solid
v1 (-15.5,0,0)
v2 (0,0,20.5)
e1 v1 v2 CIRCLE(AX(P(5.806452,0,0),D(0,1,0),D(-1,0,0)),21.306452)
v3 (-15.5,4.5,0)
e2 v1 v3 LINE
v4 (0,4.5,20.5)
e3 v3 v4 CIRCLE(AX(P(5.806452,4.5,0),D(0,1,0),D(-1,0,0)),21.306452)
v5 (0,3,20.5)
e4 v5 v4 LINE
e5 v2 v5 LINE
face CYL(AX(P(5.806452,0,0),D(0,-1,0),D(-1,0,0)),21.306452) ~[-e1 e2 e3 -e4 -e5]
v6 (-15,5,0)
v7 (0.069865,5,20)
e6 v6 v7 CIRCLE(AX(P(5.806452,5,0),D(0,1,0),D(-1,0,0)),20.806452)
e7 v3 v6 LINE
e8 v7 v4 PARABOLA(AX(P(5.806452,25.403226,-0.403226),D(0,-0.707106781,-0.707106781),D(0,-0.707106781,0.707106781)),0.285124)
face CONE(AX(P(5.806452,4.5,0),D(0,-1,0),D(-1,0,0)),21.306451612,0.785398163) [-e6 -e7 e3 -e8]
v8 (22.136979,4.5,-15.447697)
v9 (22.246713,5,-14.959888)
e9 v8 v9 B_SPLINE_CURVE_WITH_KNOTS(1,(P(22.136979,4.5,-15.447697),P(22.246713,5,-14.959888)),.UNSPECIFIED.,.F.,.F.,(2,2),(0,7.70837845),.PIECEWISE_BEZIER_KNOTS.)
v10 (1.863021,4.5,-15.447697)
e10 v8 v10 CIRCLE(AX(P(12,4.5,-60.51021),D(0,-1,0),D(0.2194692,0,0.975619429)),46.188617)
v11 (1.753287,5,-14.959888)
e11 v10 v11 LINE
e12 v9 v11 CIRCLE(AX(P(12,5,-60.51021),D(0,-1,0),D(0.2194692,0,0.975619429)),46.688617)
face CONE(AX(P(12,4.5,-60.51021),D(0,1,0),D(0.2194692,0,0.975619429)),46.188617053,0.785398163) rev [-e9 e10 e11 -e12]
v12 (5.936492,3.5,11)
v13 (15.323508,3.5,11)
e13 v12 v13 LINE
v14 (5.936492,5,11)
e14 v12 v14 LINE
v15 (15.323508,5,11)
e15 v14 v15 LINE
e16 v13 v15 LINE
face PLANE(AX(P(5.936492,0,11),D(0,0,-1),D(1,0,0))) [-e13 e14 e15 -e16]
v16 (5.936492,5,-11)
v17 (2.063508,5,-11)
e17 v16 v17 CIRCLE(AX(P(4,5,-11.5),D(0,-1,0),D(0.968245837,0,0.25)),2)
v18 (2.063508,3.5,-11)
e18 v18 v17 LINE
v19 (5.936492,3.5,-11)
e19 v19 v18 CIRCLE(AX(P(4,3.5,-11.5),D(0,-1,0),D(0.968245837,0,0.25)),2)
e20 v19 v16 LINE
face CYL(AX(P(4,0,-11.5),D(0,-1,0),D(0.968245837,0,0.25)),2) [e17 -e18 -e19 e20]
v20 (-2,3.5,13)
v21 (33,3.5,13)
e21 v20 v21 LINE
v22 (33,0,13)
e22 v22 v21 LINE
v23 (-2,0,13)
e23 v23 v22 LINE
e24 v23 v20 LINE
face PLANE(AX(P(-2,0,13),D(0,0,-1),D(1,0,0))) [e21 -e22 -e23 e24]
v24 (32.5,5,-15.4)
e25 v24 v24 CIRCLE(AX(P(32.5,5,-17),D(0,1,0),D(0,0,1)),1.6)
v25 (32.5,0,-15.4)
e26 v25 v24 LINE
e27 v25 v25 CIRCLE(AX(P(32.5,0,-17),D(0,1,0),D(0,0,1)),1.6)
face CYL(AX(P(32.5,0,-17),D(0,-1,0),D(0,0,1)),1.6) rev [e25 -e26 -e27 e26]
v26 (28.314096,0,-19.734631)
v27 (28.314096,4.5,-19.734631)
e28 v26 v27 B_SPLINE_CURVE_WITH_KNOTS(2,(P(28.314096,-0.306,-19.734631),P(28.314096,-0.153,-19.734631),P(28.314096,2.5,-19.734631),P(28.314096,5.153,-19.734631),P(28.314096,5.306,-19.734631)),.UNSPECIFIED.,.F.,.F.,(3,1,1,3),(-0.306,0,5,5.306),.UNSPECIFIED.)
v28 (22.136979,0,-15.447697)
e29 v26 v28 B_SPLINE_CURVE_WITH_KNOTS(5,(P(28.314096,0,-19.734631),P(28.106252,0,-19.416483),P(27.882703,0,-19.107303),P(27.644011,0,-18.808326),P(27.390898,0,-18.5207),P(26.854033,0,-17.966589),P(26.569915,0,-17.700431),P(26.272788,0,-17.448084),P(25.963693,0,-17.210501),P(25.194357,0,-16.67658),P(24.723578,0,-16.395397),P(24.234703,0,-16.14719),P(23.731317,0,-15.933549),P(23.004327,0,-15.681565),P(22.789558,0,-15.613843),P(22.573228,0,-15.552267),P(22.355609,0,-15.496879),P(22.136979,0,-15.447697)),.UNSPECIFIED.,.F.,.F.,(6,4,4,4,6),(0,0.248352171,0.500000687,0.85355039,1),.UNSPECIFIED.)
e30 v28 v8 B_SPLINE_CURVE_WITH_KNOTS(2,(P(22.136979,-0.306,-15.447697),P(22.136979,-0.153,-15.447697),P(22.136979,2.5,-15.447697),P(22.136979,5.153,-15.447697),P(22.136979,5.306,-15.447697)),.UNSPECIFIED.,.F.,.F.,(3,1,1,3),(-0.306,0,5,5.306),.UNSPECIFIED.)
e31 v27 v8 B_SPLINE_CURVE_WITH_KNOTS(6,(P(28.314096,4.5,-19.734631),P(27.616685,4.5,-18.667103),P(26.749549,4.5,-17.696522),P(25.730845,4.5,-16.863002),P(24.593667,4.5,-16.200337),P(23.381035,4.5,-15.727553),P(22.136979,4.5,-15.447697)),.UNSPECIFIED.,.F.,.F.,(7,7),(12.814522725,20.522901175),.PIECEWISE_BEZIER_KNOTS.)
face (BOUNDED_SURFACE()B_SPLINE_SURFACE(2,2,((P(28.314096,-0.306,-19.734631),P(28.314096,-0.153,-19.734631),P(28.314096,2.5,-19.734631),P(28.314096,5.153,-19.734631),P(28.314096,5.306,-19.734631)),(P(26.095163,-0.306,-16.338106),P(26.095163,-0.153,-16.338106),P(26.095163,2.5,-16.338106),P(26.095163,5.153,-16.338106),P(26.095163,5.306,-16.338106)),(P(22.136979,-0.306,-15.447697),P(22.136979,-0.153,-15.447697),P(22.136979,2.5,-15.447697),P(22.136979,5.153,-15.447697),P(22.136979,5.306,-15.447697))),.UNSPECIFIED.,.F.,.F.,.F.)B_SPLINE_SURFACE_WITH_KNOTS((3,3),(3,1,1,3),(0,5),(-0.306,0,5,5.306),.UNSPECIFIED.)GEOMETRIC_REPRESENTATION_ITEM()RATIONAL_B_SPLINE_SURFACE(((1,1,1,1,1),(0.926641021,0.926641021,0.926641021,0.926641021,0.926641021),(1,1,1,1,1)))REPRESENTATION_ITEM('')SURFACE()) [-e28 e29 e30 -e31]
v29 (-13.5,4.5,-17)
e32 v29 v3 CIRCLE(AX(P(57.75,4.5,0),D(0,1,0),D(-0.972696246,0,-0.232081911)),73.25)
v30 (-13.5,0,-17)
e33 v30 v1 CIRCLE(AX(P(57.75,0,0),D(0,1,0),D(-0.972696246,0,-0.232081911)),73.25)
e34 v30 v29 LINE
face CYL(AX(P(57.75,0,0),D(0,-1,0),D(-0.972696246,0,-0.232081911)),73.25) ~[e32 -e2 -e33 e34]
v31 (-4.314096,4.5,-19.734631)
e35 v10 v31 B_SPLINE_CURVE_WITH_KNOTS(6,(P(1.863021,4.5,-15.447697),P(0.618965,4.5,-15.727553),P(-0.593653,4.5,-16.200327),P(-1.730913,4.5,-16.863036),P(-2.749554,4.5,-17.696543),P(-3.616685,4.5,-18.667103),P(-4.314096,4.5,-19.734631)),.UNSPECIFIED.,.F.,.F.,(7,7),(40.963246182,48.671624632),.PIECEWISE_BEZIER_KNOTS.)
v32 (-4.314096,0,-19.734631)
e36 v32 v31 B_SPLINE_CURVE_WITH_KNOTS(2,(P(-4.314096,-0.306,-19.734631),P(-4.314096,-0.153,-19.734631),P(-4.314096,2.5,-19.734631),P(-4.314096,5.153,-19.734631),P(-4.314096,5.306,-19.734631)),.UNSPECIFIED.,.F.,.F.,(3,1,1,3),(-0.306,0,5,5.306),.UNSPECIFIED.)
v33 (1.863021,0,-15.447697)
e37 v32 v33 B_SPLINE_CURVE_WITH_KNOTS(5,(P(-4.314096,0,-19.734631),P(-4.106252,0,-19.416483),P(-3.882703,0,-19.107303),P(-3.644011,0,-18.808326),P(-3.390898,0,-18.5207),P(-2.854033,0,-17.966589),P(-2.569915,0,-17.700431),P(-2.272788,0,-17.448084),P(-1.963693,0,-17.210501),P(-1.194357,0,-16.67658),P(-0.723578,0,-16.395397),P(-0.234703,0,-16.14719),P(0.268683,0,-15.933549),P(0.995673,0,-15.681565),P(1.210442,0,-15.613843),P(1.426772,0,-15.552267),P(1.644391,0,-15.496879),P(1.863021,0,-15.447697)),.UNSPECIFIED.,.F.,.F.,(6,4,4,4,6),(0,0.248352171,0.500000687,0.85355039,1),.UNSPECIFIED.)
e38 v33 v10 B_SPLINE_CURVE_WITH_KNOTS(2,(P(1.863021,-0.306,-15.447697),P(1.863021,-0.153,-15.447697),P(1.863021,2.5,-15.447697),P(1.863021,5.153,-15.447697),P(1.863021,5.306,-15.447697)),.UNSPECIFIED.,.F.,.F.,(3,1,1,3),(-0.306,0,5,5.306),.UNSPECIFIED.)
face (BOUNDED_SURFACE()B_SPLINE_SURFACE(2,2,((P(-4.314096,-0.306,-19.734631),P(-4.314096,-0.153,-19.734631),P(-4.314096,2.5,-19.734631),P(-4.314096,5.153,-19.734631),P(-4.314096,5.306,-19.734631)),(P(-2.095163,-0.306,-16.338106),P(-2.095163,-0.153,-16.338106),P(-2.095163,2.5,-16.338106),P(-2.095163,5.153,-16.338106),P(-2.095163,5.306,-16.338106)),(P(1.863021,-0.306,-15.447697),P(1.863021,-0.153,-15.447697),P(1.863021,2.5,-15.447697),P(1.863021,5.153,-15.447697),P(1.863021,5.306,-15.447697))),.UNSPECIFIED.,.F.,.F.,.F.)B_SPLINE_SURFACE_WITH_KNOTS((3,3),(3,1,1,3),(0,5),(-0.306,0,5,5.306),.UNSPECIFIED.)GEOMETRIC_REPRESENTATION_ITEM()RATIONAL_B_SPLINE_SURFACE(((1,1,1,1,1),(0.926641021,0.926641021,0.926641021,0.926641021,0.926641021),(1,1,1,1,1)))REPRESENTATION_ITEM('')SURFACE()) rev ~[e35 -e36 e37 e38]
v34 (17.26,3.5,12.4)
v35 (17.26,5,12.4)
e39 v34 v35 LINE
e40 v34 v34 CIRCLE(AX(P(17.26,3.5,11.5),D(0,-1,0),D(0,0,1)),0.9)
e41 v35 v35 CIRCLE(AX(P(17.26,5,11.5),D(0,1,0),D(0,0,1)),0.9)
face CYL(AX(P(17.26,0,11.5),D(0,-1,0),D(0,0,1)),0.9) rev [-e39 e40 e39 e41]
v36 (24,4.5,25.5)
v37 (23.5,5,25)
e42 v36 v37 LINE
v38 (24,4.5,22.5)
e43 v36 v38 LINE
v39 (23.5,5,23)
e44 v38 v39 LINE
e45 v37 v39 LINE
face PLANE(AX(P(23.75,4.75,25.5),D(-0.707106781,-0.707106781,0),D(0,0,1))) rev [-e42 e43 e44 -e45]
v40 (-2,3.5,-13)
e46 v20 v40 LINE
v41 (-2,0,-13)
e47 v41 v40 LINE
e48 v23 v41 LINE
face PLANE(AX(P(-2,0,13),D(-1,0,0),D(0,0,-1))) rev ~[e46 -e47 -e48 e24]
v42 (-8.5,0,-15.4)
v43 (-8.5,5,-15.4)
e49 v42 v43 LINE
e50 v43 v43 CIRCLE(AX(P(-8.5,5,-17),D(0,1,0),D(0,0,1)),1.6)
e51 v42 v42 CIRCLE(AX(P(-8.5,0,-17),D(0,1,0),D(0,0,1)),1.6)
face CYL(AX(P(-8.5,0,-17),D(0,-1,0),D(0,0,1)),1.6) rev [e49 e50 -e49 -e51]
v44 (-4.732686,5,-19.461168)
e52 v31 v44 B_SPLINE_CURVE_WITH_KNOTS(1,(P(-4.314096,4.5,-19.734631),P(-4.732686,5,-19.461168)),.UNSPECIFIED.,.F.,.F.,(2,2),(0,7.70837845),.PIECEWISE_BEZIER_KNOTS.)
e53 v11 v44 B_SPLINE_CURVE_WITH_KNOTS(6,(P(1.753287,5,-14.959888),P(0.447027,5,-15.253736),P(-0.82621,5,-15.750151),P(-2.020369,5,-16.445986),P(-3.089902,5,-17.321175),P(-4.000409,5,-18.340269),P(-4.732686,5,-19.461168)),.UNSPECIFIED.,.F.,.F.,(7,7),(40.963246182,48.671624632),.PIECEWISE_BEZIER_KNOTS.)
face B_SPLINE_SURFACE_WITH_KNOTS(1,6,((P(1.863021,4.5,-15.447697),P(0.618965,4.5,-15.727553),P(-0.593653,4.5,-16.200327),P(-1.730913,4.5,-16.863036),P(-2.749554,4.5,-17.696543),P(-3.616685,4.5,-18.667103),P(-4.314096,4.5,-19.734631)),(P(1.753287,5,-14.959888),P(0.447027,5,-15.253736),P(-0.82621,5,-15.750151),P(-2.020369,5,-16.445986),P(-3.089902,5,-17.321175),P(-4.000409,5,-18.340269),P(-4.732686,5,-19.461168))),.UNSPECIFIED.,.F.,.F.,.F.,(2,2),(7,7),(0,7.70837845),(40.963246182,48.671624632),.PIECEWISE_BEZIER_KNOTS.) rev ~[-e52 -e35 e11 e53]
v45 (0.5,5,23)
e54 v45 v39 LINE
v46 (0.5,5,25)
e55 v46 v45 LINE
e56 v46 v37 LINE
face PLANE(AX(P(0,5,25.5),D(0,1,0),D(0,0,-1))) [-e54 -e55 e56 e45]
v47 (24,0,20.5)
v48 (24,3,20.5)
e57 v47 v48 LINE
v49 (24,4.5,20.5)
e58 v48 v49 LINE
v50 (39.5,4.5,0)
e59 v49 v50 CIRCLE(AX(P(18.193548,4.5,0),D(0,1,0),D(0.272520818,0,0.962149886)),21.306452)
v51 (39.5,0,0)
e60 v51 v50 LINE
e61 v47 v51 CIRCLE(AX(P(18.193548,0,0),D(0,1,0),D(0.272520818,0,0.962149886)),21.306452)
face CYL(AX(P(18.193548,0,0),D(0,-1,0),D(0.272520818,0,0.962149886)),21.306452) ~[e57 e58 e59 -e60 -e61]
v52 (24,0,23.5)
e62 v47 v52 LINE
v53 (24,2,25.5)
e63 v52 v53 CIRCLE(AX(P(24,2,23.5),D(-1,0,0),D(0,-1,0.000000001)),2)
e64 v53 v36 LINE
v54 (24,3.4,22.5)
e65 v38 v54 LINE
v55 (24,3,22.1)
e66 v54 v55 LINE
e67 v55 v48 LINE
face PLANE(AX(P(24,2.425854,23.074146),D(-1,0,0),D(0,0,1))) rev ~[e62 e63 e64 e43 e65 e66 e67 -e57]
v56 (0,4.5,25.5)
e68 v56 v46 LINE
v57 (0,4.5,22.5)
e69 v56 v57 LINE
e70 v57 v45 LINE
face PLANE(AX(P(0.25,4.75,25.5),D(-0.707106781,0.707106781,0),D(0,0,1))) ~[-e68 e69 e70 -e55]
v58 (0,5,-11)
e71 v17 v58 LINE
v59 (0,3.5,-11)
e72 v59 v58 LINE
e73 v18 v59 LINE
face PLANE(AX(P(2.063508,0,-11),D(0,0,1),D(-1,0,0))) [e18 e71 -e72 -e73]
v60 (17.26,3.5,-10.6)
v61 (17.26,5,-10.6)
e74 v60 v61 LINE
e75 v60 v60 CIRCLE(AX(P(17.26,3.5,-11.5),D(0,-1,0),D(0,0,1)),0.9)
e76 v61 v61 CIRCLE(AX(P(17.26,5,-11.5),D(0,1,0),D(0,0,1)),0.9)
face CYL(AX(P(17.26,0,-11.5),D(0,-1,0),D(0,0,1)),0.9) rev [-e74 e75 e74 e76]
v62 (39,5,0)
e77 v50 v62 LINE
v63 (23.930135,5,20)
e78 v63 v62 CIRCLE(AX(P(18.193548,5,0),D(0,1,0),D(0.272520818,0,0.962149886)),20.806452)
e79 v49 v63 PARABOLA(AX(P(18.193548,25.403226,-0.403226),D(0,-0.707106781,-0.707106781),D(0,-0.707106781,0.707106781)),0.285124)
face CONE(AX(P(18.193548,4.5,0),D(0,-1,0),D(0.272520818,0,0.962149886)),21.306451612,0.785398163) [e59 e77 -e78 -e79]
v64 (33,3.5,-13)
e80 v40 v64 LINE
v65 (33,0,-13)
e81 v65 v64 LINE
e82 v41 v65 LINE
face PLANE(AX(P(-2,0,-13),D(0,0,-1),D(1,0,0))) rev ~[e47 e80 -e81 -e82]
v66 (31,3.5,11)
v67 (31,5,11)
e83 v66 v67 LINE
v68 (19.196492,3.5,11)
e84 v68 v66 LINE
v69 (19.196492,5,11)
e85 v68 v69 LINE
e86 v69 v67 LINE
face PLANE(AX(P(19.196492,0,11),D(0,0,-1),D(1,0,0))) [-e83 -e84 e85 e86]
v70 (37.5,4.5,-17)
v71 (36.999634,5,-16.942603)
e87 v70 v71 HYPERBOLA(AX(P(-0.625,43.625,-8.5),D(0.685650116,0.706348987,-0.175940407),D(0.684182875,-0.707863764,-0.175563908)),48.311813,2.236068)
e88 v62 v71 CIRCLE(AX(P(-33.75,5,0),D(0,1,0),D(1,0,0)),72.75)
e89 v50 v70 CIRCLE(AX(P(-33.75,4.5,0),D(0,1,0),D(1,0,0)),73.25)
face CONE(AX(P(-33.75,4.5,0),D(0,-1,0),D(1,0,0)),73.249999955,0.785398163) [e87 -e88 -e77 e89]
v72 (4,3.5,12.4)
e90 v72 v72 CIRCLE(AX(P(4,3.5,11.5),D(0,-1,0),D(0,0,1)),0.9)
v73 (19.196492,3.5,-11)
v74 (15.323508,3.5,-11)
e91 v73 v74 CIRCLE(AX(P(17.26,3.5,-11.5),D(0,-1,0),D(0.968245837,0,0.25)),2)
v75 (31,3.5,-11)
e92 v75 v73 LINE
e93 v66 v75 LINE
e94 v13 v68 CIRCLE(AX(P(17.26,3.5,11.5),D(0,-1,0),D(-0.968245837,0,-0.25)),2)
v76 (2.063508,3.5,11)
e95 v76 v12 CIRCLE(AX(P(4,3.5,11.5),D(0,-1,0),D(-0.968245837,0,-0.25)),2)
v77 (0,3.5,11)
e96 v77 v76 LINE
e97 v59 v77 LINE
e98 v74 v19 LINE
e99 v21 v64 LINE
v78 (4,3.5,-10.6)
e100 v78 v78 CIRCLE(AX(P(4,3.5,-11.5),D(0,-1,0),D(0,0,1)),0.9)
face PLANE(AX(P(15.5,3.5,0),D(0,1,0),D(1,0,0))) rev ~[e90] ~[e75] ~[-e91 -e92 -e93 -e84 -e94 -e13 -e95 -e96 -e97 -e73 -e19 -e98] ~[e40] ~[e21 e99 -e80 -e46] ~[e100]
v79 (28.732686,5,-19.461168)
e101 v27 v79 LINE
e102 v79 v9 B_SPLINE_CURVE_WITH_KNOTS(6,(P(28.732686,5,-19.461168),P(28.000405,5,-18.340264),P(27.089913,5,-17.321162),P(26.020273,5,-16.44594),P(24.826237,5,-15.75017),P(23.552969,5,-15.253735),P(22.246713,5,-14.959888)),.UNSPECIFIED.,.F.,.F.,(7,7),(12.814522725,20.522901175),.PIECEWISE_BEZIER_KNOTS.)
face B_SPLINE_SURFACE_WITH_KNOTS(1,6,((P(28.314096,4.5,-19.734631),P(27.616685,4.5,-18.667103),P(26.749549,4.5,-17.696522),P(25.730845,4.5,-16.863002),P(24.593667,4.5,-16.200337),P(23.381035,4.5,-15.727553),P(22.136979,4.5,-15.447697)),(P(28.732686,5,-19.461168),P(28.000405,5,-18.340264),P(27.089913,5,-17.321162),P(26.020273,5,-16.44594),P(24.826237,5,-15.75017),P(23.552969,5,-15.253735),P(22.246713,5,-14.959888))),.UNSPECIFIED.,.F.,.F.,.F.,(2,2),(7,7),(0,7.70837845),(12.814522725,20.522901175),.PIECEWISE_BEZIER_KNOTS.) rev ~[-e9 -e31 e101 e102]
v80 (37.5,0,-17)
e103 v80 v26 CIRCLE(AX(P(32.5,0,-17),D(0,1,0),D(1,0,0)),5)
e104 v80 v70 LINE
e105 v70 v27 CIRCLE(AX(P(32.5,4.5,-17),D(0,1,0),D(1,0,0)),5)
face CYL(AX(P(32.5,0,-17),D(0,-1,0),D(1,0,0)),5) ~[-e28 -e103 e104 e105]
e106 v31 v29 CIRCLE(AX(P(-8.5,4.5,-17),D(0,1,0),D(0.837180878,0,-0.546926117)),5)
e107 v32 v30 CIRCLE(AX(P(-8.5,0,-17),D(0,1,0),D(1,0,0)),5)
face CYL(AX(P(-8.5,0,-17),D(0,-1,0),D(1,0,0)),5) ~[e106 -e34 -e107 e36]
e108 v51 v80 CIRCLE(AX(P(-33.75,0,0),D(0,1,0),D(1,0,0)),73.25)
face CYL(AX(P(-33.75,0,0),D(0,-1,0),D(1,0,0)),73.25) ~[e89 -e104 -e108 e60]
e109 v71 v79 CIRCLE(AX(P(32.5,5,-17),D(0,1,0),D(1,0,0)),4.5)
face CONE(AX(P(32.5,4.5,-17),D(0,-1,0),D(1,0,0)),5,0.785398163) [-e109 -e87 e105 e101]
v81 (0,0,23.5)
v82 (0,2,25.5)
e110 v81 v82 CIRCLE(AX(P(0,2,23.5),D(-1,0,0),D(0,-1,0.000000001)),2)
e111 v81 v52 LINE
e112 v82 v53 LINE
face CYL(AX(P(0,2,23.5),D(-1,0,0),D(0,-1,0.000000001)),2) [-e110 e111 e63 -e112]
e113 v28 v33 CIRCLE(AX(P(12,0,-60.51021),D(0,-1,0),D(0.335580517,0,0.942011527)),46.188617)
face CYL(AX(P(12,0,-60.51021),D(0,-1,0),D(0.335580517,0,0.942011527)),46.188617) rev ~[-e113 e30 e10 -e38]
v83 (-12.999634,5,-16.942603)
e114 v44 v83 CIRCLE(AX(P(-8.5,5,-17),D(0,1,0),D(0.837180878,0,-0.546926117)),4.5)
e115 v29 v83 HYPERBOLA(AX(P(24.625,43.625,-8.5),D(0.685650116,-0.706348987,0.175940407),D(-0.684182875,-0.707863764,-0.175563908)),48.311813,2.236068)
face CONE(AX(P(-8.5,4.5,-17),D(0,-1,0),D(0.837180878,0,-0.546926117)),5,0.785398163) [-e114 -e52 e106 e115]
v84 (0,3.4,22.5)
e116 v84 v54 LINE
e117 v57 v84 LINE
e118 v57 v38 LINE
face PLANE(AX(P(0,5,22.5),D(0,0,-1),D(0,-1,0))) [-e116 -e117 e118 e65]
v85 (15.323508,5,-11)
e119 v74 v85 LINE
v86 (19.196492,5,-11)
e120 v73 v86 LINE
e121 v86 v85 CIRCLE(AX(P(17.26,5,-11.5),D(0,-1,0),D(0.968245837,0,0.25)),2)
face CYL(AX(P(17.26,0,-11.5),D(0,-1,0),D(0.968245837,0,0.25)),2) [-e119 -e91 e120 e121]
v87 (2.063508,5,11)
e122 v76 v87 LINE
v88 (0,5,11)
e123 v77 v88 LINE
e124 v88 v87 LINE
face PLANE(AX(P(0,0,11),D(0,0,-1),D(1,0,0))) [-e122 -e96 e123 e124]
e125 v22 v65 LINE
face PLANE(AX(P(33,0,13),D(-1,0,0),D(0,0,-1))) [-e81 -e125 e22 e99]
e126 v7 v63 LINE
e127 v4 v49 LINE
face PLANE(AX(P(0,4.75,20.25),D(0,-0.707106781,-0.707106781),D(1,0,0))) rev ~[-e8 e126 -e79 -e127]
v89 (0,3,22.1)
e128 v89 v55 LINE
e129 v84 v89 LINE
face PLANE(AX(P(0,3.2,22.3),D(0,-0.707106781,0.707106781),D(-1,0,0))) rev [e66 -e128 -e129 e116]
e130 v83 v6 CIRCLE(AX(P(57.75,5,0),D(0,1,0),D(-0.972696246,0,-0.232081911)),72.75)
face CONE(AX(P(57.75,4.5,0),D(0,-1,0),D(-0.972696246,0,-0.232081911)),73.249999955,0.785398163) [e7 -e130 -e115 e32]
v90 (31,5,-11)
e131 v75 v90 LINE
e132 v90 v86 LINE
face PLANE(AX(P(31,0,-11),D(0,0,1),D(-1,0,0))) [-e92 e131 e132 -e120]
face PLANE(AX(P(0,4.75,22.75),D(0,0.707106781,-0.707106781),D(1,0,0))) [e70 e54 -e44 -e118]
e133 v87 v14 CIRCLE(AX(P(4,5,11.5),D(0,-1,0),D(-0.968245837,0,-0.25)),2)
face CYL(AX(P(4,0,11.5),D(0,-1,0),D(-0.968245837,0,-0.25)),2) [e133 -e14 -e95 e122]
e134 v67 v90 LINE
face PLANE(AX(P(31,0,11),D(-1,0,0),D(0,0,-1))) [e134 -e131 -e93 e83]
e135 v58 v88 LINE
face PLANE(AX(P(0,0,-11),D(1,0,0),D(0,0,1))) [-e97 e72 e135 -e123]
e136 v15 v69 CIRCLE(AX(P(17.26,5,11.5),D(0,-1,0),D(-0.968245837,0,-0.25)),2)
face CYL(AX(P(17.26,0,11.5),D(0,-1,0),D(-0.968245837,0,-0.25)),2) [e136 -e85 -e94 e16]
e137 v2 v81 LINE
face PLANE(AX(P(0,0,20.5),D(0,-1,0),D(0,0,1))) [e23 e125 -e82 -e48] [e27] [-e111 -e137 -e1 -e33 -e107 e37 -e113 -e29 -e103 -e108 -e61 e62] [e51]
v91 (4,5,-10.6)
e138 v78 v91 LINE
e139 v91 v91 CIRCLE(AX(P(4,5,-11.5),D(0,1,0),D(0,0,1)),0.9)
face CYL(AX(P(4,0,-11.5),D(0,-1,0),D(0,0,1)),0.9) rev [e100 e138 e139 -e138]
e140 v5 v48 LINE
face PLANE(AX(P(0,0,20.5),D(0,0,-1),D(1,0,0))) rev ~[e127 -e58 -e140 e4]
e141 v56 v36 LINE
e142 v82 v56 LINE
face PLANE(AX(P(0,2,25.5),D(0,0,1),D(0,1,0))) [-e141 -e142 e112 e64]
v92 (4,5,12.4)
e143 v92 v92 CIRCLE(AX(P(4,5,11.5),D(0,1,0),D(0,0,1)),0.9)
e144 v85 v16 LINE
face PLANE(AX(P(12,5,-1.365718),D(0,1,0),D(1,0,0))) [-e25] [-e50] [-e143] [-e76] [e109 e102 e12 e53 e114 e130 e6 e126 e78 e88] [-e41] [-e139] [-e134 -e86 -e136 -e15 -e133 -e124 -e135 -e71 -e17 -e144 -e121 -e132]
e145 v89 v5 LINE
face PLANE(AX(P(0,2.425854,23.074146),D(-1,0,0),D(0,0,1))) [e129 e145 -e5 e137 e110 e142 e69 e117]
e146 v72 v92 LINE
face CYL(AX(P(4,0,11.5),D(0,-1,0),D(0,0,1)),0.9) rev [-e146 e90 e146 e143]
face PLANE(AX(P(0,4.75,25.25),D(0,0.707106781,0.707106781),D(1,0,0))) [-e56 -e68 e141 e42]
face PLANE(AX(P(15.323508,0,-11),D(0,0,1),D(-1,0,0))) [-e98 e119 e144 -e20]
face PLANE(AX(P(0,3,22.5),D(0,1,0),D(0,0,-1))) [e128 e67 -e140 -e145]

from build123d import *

# Parameters (mm, degrees)
COMPLETE_SKETCH_R                   = 1.6
BODY_DEPTH                          = 5
SMOOTHING_FILLET_R                  = 10
CUT_EXTRUDE1_START                  = -5
SKETCH1_R                           = 0.9
CUT_EXTRUDE1_DEPTH                  = 5
CUT_EXTRUDE2_START                  = -5
SKETCH1_4_W                         = 35
SKETCH1_4_H                         = 26
CUT_EXTRUDE2_DEPTH                  = 3.5
BOSS_EXTRUDE1_DEPTH                 = 24
ELEPHANTSFOOT_COMPENSATION_TOP_SIZE = 0.5
CHAMFER1_SIZE                       = 0.4


with BuildPart() as part:
    # complete_sketch → body (new body)
    with BuildSketch(Plane(origin=(0, 0, 0), x_dir=(1, 0, 0), z_dir=(0, 1, 0))):
        with BuildLine():
            Line((0, -20.5), (24, -20.5))
            ThreePointArc((24, -20.5), (35.188838333, -12.850097276), (39.5, 0))
            ThreePointArc((39.5, 0), (38.998281767, 8.558621384), (37.5, 17))
            ThreePointArc((37.5, 17), (32.5, 22), (27.5, 17))
            ThreePointArc((27.5, 17), (12, 14.321592614), (-3.5, 17))
            ThreePointArc((-3.5, 17), (-8.5, 22), (-13.5, 17))
            ThreePointArc((-13.5, 17), (-14.998281767, 8.558621384), (-15.5, 0))
            ThreePointArc((-15.5, 0), (-11.188838333, -12.850097276), (0, -20.5))
        make_face()
        with Locations(Location((24, 0, 0), (0, 0, 270))):
            Circle(COMPLETE_SKETCH_R, mode=Mode.SUBTRACT)
        with Locations(Location((-8.5, 17, 0), (0, 0, 270))):
            Circle(COMPLETE_SKETCH_R, mode=Mode.SUBTRACT)
        with Locations(Location((32.5, 17, 0), (0, 0, 270))):
            Circle(COMPLETE_SKETCH_R, mode=Mode.SUBTRACT)
    extrude(amount=BODY_DEPTH)

    # smoothing_fillet
    smoothing_fillet_edges = [part.edges().sort_by_distance(p)[0] for p in [
        (-3.5, 2.5, -17),
        (27.5, 2.5, -17),
    ]]
    fillet(smoothing_fillet_edges, radius=SMOOTHING_FILLET_R)

    # Sketch1 → Cut-Extrude1 (cut)
    with BuildSketch(Plane(origin=(0, 5, 0), x_dir=(1, 0, 0), z_dir=(0, 1, 0)).offset(CUT_EXTRUDE1_START)):
        with BuildLine():
            Line((31, -11), (31, 11))
            Line((31, 11), (19.196491673, 11))
            ThreePointArc((19.196491673, 11), (17.26, 9.5), (15.323508327, 11))
            Line((15.323508327, 11), (5.936491673, 11))
            ThreePointArc((5.936491673, 11), (4, 9.5), (2.063508327, 11))
            Line((2.063508327, 11), (0, 11))
            Line((0, 11), (0, -11))
            Line((0, -11), (2.063508327, -11))
            ThreePointArc((2.063508327, -11), (4, -9.5), (5.936491673, -11))
            Line((5.936491673, -11), (15.323508327, -11))
            ThreePointArc((15.323508327, -11), (17.26, -9.5), (19.196491673, -11))
            Line((19.196491673, -11), (31, -11))
        make_face()
        with Locations(Location((4, 11.5, 0), (0, 0, 270))):
            Circle(SKETCH1_R)
        with Locations(Location((17.26, 11.5, 0), (0, 0, 270))):
            Circle(SKETCH1_R)
        with Locations(Location((17.26, -11.5, 0), (0, 0, 270))):
            Circle(SKETCH1_R)
        with Locations(Location((4, -11.5, 0), (0, 0, 270))):
            Circle(SKETCH1_R)
    extrude(amount=CUT_EXTRUDE1_DEPTH, mode=Mode.SUBTRACT)

    # Sketch1<4> → Cut-Extrude2 (cut)
    with BuildSketch(Plane(origin=(0, 5, 0), x_dir=(1, 0, 0), z_dir=(0, 1, 0)).offset(CUT_EXTRUDE2_START)):
        with Locations((15.5, 0)):
            Rectangle(SKETCH1_4_W, SKETCH1_4_H)
    extrude(amount=CUT_EXTRUDE2_DEPTH, mode=Mode.SUBTRACT)

    # Sketch2 → Boss-Extrude1 (add)
    with BuildSketch(Plane(origin=(0, 0, 0), x_dir=(0, 0, -1), z_dir=(1, 0, 0))):
        with BuildLine():
            Line((-20.5, 0), (-23.5, 0))
            ThreePointArc((-23.5, 0), (-24.914213562, 0.585786438), (-25.5, 2))
            Line((-25.5, 2), (-25.5, 5))
            Line((-25.5, 5), (-22.5, 5))
            Line((-22.5, 5), (-22.5, 3))
            Line((-22.5, 3), (-20.5, 3))
            Line((-20.5, 3), (-20.5, 0))
        make_face()
    extrude(amount=BOSS_EXTRUDE1_DEPTH)

    # elephantsfoot_compensation top
    elephantsfoot_compensation_top_edges = [part.edges().sort_by_distance(p)[0] for p in [
        (33.926618039, 5, -21.792156192),
        (25.643793964, 5, -16.988490587),
        (38.998281767, 5, -8.558621384),
        (12, 5, -14.321592614),
        (35.188838333, 5, 12.850097276),
        (-1.643793964, 5, -16.988490587),
        (12, 5, 20.5),
        (-9.926618039, 5, -21.792156192),
        (-11.188838333, 5, 12.850097276),
        (-14.998281767, 5, -8.558621384),
        (24, 5, 24),
        (0, 5, 24),
        (12, 5, 25.5),
        (12, 5, 22.5),
    ]]
    chamfer(elephantsfoot_compensation_top_edges, length=ELEPHANTSFOOT_COMPENSATION_TOP_SIZE)

    # Chamfer1
    chamfer1_edges = [part.edges().sort_by_distance(p)[0] for p in [
        (12, 3, 22.5),
    ]]
    chamfer(chamfer1_edges, length=CHAMFER1_SIZE)


solid = part.part
